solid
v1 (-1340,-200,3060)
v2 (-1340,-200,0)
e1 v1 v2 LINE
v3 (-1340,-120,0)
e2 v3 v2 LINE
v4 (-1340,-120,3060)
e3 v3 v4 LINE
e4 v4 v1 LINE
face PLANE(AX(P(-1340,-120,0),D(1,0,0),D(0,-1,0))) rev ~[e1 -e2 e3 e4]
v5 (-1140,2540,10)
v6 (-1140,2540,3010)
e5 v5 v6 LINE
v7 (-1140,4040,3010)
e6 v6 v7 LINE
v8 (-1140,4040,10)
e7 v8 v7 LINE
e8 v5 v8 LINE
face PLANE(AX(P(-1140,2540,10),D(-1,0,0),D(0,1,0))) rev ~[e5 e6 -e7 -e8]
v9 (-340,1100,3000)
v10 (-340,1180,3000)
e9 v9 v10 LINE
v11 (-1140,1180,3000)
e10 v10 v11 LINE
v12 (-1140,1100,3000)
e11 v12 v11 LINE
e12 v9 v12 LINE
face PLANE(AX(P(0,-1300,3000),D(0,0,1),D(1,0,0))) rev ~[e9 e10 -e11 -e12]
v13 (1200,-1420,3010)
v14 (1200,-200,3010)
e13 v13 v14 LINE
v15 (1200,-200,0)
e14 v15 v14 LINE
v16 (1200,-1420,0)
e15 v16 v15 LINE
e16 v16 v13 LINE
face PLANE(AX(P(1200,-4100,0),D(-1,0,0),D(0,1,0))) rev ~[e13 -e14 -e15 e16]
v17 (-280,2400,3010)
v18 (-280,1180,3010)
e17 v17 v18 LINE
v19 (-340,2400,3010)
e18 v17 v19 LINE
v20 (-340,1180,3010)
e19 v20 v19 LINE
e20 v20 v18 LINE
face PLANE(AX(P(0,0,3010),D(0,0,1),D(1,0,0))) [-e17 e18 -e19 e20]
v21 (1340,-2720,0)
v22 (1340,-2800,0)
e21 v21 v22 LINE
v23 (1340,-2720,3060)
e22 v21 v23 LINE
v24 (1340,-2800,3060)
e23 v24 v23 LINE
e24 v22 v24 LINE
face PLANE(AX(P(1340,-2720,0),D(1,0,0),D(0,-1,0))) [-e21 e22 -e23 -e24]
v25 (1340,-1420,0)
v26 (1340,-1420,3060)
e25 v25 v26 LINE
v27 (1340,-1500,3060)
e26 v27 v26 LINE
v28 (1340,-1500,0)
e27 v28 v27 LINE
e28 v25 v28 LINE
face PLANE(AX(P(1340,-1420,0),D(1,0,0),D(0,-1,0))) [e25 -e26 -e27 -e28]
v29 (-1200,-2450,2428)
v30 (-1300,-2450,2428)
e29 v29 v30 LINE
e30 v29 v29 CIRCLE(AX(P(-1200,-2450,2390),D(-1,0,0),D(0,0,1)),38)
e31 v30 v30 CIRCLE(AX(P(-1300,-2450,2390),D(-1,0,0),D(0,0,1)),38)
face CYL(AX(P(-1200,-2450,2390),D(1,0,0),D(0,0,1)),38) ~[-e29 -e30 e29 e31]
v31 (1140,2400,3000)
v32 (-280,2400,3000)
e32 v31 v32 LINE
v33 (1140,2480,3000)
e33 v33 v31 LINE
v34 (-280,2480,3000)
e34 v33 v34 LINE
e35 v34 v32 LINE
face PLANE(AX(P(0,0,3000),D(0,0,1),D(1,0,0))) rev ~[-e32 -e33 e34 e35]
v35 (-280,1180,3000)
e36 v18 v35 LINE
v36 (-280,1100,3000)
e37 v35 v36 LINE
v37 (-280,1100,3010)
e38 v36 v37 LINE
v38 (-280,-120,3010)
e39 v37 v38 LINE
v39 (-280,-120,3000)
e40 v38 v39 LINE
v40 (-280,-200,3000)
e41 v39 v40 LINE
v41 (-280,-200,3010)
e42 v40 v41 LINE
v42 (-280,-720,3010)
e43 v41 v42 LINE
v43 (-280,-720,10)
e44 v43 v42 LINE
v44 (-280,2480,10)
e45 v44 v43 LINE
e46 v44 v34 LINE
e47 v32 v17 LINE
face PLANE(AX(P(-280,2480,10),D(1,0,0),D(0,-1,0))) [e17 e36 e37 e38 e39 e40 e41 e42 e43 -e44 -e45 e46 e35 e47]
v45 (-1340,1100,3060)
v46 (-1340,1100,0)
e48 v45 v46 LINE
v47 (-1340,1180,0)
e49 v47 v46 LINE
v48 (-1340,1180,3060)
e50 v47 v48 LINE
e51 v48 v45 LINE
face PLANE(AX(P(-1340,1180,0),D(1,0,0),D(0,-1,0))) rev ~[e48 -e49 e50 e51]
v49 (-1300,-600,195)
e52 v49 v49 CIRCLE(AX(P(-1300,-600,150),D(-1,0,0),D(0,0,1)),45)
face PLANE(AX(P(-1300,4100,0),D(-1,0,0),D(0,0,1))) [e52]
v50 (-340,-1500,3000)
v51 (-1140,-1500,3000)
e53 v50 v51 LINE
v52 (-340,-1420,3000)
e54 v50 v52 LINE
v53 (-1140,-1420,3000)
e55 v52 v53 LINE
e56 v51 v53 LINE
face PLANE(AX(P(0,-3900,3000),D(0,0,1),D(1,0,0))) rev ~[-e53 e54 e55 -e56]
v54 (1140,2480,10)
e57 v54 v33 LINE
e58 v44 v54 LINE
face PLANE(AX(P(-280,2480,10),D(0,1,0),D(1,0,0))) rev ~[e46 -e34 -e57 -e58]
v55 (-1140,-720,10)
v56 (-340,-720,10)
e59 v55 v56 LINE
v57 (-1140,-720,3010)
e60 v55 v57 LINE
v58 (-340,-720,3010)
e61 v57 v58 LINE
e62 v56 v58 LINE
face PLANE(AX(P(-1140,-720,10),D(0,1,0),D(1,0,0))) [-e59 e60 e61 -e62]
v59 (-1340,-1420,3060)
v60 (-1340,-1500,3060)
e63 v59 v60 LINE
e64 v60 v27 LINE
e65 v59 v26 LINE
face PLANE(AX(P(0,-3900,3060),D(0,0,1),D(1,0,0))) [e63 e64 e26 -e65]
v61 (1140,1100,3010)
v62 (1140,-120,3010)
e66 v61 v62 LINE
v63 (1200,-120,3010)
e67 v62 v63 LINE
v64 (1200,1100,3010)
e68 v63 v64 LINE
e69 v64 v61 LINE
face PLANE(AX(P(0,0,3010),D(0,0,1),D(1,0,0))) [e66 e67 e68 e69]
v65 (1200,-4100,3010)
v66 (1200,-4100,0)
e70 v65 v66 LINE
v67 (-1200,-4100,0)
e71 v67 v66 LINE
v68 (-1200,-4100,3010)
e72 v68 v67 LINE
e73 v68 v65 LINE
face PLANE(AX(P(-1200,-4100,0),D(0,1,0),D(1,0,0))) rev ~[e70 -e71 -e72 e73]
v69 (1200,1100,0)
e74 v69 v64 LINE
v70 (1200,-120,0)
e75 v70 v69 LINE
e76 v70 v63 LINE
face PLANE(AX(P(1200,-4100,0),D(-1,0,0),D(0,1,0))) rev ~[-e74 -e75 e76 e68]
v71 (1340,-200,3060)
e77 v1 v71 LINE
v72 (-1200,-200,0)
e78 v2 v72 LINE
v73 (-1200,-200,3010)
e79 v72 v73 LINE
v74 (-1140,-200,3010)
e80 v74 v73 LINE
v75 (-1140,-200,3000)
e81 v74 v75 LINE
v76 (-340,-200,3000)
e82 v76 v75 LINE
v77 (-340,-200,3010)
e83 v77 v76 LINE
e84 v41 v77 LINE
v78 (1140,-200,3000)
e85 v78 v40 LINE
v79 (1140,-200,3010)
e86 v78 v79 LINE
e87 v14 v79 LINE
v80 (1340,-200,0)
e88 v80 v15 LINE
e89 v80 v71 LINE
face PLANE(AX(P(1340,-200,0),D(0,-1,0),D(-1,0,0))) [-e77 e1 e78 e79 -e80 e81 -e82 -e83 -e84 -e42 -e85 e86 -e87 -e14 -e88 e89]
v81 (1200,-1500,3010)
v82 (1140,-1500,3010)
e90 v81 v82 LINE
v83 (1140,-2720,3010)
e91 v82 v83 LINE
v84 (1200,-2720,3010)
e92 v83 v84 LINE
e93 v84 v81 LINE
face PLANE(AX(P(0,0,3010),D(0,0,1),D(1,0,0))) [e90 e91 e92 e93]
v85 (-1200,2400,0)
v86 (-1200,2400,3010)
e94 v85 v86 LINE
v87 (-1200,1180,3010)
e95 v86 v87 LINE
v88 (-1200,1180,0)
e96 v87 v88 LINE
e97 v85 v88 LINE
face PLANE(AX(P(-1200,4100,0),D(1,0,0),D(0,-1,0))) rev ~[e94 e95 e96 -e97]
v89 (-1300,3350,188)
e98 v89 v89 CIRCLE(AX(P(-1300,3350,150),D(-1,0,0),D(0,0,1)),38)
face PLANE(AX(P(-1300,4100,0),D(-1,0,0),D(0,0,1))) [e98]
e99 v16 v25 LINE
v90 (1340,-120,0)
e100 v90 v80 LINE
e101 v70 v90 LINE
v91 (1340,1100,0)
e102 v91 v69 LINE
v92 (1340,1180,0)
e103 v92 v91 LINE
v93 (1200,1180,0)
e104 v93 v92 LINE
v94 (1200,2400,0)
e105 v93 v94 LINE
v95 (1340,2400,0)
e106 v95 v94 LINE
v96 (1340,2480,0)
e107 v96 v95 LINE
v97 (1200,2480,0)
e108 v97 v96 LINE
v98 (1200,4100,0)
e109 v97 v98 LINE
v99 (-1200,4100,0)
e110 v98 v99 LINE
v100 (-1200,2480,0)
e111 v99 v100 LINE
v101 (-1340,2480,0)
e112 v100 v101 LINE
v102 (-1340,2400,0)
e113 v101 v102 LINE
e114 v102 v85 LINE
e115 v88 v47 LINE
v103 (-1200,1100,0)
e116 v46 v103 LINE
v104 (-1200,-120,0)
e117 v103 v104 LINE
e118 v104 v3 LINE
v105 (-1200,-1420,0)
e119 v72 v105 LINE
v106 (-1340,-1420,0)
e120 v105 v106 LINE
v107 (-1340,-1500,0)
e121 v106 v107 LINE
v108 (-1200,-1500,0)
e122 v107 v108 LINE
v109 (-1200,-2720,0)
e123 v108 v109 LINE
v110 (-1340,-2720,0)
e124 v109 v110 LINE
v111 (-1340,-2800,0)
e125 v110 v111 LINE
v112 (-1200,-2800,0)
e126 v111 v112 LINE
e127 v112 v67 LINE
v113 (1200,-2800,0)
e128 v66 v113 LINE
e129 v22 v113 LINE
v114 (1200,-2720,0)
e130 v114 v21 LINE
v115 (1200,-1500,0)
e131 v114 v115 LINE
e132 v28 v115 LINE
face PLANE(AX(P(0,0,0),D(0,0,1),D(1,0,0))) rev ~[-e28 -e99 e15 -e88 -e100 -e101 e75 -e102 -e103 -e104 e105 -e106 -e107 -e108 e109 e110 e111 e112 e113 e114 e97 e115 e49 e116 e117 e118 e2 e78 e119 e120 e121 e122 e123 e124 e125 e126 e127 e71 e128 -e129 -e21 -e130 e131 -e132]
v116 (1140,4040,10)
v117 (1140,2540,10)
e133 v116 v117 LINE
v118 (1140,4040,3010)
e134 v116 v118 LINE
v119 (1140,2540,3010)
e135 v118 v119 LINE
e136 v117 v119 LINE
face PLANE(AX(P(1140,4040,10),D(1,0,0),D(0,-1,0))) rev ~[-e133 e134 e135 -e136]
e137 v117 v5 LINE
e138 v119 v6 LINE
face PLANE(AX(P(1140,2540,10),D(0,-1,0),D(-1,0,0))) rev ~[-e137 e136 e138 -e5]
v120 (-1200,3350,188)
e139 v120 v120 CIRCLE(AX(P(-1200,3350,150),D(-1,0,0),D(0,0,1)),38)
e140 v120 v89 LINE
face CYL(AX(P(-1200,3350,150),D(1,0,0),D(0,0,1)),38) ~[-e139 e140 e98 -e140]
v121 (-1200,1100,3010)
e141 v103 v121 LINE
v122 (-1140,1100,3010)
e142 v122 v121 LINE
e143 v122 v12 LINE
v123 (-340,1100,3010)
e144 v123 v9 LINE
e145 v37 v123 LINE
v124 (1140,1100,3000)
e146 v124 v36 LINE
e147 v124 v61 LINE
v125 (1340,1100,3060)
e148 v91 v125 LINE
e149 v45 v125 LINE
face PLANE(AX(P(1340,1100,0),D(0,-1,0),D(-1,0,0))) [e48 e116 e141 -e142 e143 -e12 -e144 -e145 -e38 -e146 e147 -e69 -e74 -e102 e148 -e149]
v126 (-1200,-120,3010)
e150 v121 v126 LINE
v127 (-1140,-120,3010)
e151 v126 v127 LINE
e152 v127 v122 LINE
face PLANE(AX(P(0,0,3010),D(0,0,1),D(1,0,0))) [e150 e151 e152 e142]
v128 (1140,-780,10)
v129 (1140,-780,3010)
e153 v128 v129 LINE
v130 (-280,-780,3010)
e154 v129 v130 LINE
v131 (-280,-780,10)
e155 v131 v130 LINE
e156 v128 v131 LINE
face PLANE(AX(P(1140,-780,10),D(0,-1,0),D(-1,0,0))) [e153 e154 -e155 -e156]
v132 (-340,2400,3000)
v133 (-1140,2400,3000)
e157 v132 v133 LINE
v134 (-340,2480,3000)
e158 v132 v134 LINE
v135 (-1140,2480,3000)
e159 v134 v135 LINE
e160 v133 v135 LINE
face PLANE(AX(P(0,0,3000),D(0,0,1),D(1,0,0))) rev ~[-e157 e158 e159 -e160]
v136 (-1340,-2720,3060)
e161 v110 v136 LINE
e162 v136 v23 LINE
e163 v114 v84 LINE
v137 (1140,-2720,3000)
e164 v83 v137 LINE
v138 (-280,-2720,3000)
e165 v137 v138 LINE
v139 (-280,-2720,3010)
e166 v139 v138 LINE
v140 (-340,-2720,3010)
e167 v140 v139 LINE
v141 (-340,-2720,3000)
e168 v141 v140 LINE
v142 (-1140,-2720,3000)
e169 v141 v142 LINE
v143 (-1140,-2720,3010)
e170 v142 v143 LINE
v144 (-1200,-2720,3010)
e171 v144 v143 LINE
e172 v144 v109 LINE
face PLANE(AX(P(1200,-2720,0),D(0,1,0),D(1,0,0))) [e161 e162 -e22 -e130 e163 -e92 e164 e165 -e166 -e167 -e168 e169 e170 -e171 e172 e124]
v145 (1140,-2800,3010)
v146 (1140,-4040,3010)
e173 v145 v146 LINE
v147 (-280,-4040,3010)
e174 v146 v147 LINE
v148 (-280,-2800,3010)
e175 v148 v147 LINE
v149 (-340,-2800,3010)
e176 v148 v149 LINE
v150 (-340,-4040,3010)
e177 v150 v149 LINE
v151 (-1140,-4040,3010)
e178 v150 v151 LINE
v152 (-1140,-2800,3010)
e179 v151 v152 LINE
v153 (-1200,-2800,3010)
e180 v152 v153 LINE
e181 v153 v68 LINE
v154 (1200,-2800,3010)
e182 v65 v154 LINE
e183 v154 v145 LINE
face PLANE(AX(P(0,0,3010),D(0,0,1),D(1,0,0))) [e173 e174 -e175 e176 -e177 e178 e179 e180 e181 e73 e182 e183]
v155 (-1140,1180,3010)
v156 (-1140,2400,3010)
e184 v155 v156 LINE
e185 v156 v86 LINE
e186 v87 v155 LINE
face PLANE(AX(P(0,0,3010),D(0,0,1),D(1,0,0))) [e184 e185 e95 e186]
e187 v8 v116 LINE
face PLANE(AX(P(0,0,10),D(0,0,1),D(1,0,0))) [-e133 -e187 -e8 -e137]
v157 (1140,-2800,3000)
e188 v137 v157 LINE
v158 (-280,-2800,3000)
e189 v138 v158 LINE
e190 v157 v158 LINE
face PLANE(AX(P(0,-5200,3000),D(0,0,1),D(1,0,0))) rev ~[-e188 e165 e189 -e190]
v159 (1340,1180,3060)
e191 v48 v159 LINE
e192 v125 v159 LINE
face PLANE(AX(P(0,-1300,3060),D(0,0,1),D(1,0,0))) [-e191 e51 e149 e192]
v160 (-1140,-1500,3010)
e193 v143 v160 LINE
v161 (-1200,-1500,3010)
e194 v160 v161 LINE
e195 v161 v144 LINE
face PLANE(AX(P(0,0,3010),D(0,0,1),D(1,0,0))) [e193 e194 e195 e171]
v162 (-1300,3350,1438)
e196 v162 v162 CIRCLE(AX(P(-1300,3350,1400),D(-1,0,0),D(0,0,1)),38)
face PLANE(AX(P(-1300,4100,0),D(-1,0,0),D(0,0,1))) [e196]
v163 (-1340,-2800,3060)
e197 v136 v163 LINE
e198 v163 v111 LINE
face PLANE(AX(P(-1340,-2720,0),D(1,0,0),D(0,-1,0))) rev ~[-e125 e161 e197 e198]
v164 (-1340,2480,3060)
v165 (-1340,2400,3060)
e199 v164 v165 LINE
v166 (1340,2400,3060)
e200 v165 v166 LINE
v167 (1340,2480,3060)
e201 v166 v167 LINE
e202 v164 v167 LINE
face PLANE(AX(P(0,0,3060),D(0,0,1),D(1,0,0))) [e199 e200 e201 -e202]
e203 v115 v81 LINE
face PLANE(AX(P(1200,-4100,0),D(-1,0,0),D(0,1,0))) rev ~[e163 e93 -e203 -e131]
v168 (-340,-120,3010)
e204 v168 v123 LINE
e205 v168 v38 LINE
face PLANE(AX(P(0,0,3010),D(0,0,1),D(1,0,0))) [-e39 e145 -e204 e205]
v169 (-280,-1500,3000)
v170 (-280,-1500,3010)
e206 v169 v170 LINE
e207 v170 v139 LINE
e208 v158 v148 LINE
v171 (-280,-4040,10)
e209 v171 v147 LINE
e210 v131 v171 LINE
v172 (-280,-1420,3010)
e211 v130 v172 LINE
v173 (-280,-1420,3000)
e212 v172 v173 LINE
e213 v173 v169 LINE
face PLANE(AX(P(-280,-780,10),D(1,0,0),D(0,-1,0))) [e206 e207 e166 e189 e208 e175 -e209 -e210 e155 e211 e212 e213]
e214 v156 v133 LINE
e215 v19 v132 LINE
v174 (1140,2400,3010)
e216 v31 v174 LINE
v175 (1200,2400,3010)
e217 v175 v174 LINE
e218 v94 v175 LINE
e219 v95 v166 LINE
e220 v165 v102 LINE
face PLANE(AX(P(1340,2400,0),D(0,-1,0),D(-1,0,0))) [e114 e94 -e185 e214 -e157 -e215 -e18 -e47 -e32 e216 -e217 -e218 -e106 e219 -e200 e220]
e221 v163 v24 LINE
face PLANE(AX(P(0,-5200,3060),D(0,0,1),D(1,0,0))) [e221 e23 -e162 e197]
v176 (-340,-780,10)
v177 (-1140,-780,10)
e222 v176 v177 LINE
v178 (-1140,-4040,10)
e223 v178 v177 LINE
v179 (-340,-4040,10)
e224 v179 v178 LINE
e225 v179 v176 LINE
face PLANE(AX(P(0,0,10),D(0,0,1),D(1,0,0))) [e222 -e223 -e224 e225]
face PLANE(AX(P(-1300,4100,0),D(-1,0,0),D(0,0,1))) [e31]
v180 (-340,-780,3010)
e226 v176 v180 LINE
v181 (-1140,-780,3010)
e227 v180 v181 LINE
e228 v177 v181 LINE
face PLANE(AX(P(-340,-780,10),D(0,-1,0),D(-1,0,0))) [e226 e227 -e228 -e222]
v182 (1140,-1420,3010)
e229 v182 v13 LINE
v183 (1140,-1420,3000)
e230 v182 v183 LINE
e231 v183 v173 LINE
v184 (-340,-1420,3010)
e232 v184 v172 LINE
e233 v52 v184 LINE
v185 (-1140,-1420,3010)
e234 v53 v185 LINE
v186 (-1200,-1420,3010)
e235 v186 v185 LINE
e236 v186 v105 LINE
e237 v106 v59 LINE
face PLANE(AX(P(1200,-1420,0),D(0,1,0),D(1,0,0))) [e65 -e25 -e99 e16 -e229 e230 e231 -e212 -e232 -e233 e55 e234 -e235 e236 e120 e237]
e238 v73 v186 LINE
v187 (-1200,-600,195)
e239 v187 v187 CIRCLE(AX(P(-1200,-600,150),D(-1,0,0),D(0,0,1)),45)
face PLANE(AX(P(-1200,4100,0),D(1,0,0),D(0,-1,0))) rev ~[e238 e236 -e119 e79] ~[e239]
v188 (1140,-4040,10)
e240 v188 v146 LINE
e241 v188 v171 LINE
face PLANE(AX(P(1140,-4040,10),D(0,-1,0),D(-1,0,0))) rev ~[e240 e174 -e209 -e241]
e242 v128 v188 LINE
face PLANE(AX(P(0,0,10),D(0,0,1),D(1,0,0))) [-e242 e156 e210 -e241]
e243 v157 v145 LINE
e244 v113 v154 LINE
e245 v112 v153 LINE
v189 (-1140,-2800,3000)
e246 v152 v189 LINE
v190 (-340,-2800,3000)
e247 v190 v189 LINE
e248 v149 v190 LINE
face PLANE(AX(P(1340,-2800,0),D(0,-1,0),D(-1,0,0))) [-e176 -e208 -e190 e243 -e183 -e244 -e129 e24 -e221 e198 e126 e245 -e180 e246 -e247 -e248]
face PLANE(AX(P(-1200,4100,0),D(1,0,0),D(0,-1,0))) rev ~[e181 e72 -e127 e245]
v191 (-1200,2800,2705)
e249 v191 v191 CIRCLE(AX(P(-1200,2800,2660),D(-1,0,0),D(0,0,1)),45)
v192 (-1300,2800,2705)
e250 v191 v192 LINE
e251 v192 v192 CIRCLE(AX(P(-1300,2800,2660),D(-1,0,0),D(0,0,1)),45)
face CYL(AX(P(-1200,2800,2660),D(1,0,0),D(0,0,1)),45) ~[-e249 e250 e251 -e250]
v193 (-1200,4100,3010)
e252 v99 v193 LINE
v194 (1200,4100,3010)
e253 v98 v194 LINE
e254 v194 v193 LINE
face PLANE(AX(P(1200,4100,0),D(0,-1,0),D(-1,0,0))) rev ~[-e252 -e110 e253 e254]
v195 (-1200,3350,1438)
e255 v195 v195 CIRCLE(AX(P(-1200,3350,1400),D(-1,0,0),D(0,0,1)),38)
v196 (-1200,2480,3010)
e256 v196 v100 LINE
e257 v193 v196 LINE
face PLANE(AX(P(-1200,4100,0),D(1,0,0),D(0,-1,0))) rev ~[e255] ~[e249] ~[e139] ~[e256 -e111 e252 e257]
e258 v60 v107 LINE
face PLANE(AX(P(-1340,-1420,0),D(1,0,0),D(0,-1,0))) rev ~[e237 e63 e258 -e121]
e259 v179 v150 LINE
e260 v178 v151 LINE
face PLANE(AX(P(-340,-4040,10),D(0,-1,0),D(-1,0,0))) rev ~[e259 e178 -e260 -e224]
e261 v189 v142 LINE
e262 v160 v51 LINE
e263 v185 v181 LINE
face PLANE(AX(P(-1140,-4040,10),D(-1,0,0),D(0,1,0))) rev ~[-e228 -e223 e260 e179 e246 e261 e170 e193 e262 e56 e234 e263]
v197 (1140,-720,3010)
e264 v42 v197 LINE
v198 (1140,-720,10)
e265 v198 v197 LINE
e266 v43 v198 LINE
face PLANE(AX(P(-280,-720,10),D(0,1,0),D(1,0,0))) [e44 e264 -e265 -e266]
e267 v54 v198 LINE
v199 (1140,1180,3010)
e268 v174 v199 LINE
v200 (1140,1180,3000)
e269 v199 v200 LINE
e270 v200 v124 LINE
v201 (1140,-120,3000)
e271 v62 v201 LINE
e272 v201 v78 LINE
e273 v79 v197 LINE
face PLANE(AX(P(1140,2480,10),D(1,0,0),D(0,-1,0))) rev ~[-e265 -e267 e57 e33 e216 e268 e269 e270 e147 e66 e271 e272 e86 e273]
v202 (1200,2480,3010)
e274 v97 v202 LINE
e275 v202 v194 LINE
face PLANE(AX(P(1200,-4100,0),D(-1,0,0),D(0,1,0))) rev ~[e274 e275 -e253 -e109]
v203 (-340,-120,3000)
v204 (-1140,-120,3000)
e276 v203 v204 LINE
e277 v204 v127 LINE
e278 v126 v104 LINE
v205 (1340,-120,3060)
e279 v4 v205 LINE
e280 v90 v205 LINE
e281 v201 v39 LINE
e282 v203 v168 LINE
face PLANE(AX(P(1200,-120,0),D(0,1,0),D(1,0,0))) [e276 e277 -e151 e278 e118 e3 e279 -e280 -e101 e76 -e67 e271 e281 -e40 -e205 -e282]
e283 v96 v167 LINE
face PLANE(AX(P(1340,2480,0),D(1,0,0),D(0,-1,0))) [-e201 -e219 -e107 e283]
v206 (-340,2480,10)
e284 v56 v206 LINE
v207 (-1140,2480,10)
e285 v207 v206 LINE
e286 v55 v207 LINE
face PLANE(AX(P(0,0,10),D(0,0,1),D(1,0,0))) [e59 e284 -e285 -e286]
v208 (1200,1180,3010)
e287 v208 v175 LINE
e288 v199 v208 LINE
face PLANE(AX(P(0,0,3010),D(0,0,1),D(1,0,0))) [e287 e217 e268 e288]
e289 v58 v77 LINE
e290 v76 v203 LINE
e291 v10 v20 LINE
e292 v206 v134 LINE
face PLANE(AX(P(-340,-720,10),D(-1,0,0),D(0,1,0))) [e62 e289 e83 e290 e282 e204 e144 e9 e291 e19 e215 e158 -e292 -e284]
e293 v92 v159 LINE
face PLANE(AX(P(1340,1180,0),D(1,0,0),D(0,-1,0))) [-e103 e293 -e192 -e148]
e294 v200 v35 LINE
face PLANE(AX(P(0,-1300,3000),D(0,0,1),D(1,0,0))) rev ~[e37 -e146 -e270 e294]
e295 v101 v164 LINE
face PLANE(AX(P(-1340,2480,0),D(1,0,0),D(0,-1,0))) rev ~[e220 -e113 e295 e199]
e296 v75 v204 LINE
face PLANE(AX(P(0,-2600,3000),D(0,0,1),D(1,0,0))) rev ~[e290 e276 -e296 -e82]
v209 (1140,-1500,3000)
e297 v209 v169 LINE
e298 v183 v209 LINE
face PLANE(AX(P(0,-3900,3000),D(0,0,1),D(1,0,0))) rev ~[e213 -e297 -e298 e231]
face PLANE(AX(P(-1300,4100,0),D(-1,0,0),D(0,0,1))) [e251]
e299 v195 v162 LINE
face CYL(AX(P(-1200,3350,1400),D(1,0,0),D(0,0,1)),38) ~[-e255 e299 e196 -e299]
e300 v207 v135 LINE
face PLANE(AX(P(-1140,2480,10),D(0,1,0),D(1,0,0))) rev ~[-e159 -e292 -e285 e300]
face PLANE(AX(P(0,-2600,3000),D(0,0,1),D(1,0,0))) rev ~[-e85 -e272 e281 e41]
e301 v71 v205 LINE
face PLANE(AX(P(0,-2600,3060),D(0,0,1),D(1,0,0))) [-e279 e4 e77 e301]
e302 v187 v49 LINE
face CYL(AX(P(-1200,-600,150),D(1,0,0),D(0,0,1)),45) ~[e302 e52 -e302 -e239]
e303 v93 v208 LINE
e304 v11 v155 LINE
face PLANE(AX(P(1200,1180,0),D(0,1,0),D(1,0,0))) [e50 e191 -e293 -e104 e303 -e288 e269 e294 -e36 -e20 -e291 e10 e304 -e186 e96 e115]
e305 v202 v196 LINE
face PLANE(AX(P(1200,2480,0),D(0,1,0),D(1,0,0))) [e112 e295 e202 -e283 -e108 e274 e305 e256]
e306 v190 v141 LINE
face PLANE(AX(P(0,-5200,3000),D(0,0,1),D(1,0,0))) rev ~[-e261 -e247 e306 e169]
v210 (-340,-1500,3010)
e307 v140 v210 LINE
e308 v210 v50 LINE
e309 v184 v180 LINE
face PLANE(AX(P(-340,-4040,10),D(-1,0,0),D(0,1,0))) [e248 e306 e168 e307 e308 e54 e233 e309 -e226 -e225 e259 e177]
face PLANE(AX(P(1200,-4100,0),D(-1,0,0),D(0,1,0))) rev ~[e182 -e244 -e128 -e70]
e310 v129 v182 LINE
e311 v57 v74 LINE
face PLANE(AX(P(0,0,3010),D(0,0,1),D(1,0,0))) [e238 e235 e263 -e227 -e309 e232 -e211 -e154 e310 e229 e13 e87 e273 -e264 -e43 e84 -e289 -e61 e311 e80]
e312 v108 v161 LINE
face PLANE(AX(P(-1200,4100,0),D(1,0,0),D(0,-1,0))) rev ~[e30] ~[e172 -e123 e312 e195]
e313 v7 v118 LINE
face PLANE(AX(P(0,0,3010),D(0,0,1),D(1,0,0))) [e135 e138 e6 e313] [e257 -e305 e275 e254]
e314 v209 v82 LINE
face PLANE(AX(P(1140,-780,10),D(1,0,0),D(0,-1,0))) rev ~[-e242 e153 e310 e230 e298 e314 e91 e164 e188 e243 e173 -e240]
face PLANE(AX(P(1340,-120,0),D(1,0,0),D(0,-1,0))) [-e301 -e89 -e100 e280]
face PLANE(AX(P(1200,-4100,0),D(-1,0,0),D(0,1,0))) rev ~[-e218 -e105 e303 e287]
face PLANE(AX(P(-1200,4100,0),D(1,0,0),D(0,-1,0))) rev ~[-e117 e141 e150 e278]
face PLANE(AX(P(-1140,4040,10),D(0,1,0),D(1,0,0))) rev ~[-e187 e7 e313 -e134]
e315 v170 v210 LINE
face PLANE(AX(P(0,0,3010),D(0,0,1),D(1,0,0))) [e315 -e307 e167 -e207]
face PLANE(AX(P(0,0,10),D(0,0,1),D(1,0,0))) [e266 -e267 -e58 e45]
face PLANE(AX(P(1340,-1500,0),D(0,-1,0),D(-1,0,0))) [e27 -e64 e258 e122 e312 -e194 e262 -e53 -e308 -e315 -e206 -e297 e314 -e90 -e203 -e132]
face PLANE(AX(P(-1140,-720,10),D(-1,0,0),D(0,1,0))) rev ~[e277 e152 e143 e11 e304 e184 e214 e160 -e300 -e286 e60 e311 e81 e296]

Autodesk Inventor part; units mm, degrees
ref_plane "YZ Plane" through (0, 0, 0) normal (1, 0, 0) x (0, 1, 0)
ref_plane "XZ Plane" through (0, 0, 0) normal (0, 1, 0) x (-1, 0, 0)
ref_plane "XY Plane" through (0, 0, 0) normal (0, 0, 1) x (1, 0, 0)
sketch "Sketch1" plane through (0, 0, 0) normal (0, 0, 1) x (1, 0, 0)
  line L0 (1200, 4100) -> (-1200, 4100)
  line L1 (-1200, 4100) -> (-1200, -4100)
  line L2 (-1200, -4100) -> (1200, -4100)
  line L3 (1200, -4100) -> (1200, 4100)
  line L4 (1200, 4100) -> (-1200, -4100) construction
  line L5 (-1200, 4100) -> (1200, -4100) construction
  point P0 (0, 0)
  dimension "d0" = 2400
  dimension "d1" = 8200
extrude "Extrusion1" add sketch "Sketch1" along normal blind 10
sketch "Sketch2" plane through (0, 0, 10) normal (0, 0, 1) x (1, 0, 0)
  line L0 (-1200, 4100) -> (-1200, -4100) projected
  line L1 (-1200, -4100) -> (1200, -4100) projected
  line L2 (1200, -4100) -> (1200, 4100) projected
  line L3 (1200, 4100) -> (-1200, 4100) projected
  line L4 (1140, 4040) -> (1140, -4040)
  line L5 (1140, -4040) -> (-1140, -4040)
  line L6 (-1140, -4040) -> (-1140, 4040)
  line L7 (-1140, 4040) -> (1140, 4040)
  line L8 (1140, 2540) -> (-1140, 2540)
  line L9 (-1140, 2540) -> (-1140, 2480)
  line L10 (-1140, 2480) -> (1140, 2480)
  line L11 (1140, 2480) -> (1140, 2540)
  line L12 (-280, -4040) -> (-340, -4040)
  line L13 (-340, -4040) -> (-340, 2480)
  line L14 (-340, 2480) -> (-280, 2480)
  line L15 (-280, 2480) -> (-280, -4040)
  line L16 (-1140, -720) -> (1140, -720)
  line L17 (1140, -720) -> (1140, -780)
  line L18 (1140, -780) -> (-1140, -780)
  line L19 (-1140, -780) -> (-1140, -720)
  point P0 (0, 0)
  point P1 (-280, -720)
  point P2 (-340, -780)
  point P3 (-1140, -780)
  point P4 (-280, -780)
  point P5 (-340, -720)
  dimension "d4" = 60
  dimension "d5" = 60
  dimension "d6" = 1500
  dimension "d7" = 800
  dimension "d8" = 3200
extrude "Extrusion2" add sketch "Sketch2" along normal blind 3000 contours L3 L2 L1 L0 | L4 L10 L6 L8 | L4 L18 L15 L16 | L15 L16 L13 L10 | L15 L18 L13 L16 | L16 L13 L18 L6 | L15 L5 L13 L18
sketch "Sketch5" plane through (-1200, 4100, 0) normal (-1, 0, 0) x (0, 0, 1)
  line L0 (0, 0) -> (0, -8200) projected
  line L1 (0, -8200) -> (3010, -8200) projected
  line L2 (3010, 0) -> (3010, -8200) construction
  line L3 (0, 0) -> (3010, 0) construction
  circle A0 centre (150, -750) radius 38
  circle A1 centre (2660, -1300) radius 45
  circle A2 centre (2390, -6550) radius 38
  circle A3 centre (1400, -750) radius 38
  circle A4 centre (150, -4700) radius 45
  point P0 (0, -4100)
  dimension "d21" = 76
  dimension "d23" = 1300
  dimension "d24" = 350
  dimension "d25" = 90
  dimension "d26" = 150
  dimension "d27" = 1400
  dimension "d28" = 750
  dimension "d29" = 90
  dimension "d30" = 3500
  dimension "d31" = 620
  dimension "d32" = 1650
sketch "Sketch3" plane through (0, 0, 0) normal (0, 0, 1) x (1, 0, 0)
  line L0 (-1200, 4100) -> (-1200, -4100) construction
  line L1 (1200, 4100) -> (-1200, 4100) construction
  line L2 (1200, -4100) -> (1200, 4100) construction
  line L3 (-1200, -4100) -> (1200, -4100) construction
  line L4 (-1200, 2480) -> (-1340, 2480)
  line L5 (-1340, 2480) -> (-1340, 2400)
  line L6 (-1340, 2400) -> (-1200, 2400)
  line L7 (-1200, 2400) -> (-1200, 2480)
  line L8 (1200, 2480) -> (1340, 2480)
  line L9 (1340, 2480) -> (1340, 2400)
  line L10 (1340, 2400) -> (1200, 2400)
  line L11 (1200, 2400) -> (1200, 2480)
  point P0 (0, 0)
  dimension "d11" = 140
  dimension "d12" = 80
  dimension "d13" = 1620
extrude "Extrusion3" add sketch "Sketch3" along normal blind 3000
sketch "Sketch4" plane through (0, 0, 3000) normal (0, 0, 1) x (1, 0, 0)
  line L0 (1200, 2400) -> (1340, 2400) projected
  line L1 (1340, 2400) -> (1340, 2480) projected
  line L2 (1340, 2480) -> (1200, 2480) projected
  line L3 (1200, 2400) -> (1200, 2480) projected
  line L4 (-1340, 2480) -> (-1340, 2400) projected
  line L5 (-1340, 2400) -> (-1200, 2400) projected
  line L6 (-1200, 2480) -> (-1200, 2400) projected
  line L7 (-1200, 2480) -> (-1340, 2480) projected
  line L8 (-1200, 2480) -> (-1340, 2480) projected
  line L9 (1200, 2480) -> (-1200, 2480)
  line L10 (-1200, 2400) -> (1200, 2400)
  line L11 (1200, -4100) -> (1200, 4100) projected
  line L12 (1200, 2480) -> (-1200, 2480)
  point P0 (0, 0)
extrude "Extrusion4" add sketch "Sketch4" along normal blind 60
pattern_linear "Rectangular Pattern1" count 5 spacing 1300 along (0, -1, 0) of "Extrusion3", "Extrusion4"
extrude "Extrusion5" add sketch "Sketch5" along normal blind 100
equation "\"d5\" = d4"
properties part number "BSH 600 Tank dummy"
